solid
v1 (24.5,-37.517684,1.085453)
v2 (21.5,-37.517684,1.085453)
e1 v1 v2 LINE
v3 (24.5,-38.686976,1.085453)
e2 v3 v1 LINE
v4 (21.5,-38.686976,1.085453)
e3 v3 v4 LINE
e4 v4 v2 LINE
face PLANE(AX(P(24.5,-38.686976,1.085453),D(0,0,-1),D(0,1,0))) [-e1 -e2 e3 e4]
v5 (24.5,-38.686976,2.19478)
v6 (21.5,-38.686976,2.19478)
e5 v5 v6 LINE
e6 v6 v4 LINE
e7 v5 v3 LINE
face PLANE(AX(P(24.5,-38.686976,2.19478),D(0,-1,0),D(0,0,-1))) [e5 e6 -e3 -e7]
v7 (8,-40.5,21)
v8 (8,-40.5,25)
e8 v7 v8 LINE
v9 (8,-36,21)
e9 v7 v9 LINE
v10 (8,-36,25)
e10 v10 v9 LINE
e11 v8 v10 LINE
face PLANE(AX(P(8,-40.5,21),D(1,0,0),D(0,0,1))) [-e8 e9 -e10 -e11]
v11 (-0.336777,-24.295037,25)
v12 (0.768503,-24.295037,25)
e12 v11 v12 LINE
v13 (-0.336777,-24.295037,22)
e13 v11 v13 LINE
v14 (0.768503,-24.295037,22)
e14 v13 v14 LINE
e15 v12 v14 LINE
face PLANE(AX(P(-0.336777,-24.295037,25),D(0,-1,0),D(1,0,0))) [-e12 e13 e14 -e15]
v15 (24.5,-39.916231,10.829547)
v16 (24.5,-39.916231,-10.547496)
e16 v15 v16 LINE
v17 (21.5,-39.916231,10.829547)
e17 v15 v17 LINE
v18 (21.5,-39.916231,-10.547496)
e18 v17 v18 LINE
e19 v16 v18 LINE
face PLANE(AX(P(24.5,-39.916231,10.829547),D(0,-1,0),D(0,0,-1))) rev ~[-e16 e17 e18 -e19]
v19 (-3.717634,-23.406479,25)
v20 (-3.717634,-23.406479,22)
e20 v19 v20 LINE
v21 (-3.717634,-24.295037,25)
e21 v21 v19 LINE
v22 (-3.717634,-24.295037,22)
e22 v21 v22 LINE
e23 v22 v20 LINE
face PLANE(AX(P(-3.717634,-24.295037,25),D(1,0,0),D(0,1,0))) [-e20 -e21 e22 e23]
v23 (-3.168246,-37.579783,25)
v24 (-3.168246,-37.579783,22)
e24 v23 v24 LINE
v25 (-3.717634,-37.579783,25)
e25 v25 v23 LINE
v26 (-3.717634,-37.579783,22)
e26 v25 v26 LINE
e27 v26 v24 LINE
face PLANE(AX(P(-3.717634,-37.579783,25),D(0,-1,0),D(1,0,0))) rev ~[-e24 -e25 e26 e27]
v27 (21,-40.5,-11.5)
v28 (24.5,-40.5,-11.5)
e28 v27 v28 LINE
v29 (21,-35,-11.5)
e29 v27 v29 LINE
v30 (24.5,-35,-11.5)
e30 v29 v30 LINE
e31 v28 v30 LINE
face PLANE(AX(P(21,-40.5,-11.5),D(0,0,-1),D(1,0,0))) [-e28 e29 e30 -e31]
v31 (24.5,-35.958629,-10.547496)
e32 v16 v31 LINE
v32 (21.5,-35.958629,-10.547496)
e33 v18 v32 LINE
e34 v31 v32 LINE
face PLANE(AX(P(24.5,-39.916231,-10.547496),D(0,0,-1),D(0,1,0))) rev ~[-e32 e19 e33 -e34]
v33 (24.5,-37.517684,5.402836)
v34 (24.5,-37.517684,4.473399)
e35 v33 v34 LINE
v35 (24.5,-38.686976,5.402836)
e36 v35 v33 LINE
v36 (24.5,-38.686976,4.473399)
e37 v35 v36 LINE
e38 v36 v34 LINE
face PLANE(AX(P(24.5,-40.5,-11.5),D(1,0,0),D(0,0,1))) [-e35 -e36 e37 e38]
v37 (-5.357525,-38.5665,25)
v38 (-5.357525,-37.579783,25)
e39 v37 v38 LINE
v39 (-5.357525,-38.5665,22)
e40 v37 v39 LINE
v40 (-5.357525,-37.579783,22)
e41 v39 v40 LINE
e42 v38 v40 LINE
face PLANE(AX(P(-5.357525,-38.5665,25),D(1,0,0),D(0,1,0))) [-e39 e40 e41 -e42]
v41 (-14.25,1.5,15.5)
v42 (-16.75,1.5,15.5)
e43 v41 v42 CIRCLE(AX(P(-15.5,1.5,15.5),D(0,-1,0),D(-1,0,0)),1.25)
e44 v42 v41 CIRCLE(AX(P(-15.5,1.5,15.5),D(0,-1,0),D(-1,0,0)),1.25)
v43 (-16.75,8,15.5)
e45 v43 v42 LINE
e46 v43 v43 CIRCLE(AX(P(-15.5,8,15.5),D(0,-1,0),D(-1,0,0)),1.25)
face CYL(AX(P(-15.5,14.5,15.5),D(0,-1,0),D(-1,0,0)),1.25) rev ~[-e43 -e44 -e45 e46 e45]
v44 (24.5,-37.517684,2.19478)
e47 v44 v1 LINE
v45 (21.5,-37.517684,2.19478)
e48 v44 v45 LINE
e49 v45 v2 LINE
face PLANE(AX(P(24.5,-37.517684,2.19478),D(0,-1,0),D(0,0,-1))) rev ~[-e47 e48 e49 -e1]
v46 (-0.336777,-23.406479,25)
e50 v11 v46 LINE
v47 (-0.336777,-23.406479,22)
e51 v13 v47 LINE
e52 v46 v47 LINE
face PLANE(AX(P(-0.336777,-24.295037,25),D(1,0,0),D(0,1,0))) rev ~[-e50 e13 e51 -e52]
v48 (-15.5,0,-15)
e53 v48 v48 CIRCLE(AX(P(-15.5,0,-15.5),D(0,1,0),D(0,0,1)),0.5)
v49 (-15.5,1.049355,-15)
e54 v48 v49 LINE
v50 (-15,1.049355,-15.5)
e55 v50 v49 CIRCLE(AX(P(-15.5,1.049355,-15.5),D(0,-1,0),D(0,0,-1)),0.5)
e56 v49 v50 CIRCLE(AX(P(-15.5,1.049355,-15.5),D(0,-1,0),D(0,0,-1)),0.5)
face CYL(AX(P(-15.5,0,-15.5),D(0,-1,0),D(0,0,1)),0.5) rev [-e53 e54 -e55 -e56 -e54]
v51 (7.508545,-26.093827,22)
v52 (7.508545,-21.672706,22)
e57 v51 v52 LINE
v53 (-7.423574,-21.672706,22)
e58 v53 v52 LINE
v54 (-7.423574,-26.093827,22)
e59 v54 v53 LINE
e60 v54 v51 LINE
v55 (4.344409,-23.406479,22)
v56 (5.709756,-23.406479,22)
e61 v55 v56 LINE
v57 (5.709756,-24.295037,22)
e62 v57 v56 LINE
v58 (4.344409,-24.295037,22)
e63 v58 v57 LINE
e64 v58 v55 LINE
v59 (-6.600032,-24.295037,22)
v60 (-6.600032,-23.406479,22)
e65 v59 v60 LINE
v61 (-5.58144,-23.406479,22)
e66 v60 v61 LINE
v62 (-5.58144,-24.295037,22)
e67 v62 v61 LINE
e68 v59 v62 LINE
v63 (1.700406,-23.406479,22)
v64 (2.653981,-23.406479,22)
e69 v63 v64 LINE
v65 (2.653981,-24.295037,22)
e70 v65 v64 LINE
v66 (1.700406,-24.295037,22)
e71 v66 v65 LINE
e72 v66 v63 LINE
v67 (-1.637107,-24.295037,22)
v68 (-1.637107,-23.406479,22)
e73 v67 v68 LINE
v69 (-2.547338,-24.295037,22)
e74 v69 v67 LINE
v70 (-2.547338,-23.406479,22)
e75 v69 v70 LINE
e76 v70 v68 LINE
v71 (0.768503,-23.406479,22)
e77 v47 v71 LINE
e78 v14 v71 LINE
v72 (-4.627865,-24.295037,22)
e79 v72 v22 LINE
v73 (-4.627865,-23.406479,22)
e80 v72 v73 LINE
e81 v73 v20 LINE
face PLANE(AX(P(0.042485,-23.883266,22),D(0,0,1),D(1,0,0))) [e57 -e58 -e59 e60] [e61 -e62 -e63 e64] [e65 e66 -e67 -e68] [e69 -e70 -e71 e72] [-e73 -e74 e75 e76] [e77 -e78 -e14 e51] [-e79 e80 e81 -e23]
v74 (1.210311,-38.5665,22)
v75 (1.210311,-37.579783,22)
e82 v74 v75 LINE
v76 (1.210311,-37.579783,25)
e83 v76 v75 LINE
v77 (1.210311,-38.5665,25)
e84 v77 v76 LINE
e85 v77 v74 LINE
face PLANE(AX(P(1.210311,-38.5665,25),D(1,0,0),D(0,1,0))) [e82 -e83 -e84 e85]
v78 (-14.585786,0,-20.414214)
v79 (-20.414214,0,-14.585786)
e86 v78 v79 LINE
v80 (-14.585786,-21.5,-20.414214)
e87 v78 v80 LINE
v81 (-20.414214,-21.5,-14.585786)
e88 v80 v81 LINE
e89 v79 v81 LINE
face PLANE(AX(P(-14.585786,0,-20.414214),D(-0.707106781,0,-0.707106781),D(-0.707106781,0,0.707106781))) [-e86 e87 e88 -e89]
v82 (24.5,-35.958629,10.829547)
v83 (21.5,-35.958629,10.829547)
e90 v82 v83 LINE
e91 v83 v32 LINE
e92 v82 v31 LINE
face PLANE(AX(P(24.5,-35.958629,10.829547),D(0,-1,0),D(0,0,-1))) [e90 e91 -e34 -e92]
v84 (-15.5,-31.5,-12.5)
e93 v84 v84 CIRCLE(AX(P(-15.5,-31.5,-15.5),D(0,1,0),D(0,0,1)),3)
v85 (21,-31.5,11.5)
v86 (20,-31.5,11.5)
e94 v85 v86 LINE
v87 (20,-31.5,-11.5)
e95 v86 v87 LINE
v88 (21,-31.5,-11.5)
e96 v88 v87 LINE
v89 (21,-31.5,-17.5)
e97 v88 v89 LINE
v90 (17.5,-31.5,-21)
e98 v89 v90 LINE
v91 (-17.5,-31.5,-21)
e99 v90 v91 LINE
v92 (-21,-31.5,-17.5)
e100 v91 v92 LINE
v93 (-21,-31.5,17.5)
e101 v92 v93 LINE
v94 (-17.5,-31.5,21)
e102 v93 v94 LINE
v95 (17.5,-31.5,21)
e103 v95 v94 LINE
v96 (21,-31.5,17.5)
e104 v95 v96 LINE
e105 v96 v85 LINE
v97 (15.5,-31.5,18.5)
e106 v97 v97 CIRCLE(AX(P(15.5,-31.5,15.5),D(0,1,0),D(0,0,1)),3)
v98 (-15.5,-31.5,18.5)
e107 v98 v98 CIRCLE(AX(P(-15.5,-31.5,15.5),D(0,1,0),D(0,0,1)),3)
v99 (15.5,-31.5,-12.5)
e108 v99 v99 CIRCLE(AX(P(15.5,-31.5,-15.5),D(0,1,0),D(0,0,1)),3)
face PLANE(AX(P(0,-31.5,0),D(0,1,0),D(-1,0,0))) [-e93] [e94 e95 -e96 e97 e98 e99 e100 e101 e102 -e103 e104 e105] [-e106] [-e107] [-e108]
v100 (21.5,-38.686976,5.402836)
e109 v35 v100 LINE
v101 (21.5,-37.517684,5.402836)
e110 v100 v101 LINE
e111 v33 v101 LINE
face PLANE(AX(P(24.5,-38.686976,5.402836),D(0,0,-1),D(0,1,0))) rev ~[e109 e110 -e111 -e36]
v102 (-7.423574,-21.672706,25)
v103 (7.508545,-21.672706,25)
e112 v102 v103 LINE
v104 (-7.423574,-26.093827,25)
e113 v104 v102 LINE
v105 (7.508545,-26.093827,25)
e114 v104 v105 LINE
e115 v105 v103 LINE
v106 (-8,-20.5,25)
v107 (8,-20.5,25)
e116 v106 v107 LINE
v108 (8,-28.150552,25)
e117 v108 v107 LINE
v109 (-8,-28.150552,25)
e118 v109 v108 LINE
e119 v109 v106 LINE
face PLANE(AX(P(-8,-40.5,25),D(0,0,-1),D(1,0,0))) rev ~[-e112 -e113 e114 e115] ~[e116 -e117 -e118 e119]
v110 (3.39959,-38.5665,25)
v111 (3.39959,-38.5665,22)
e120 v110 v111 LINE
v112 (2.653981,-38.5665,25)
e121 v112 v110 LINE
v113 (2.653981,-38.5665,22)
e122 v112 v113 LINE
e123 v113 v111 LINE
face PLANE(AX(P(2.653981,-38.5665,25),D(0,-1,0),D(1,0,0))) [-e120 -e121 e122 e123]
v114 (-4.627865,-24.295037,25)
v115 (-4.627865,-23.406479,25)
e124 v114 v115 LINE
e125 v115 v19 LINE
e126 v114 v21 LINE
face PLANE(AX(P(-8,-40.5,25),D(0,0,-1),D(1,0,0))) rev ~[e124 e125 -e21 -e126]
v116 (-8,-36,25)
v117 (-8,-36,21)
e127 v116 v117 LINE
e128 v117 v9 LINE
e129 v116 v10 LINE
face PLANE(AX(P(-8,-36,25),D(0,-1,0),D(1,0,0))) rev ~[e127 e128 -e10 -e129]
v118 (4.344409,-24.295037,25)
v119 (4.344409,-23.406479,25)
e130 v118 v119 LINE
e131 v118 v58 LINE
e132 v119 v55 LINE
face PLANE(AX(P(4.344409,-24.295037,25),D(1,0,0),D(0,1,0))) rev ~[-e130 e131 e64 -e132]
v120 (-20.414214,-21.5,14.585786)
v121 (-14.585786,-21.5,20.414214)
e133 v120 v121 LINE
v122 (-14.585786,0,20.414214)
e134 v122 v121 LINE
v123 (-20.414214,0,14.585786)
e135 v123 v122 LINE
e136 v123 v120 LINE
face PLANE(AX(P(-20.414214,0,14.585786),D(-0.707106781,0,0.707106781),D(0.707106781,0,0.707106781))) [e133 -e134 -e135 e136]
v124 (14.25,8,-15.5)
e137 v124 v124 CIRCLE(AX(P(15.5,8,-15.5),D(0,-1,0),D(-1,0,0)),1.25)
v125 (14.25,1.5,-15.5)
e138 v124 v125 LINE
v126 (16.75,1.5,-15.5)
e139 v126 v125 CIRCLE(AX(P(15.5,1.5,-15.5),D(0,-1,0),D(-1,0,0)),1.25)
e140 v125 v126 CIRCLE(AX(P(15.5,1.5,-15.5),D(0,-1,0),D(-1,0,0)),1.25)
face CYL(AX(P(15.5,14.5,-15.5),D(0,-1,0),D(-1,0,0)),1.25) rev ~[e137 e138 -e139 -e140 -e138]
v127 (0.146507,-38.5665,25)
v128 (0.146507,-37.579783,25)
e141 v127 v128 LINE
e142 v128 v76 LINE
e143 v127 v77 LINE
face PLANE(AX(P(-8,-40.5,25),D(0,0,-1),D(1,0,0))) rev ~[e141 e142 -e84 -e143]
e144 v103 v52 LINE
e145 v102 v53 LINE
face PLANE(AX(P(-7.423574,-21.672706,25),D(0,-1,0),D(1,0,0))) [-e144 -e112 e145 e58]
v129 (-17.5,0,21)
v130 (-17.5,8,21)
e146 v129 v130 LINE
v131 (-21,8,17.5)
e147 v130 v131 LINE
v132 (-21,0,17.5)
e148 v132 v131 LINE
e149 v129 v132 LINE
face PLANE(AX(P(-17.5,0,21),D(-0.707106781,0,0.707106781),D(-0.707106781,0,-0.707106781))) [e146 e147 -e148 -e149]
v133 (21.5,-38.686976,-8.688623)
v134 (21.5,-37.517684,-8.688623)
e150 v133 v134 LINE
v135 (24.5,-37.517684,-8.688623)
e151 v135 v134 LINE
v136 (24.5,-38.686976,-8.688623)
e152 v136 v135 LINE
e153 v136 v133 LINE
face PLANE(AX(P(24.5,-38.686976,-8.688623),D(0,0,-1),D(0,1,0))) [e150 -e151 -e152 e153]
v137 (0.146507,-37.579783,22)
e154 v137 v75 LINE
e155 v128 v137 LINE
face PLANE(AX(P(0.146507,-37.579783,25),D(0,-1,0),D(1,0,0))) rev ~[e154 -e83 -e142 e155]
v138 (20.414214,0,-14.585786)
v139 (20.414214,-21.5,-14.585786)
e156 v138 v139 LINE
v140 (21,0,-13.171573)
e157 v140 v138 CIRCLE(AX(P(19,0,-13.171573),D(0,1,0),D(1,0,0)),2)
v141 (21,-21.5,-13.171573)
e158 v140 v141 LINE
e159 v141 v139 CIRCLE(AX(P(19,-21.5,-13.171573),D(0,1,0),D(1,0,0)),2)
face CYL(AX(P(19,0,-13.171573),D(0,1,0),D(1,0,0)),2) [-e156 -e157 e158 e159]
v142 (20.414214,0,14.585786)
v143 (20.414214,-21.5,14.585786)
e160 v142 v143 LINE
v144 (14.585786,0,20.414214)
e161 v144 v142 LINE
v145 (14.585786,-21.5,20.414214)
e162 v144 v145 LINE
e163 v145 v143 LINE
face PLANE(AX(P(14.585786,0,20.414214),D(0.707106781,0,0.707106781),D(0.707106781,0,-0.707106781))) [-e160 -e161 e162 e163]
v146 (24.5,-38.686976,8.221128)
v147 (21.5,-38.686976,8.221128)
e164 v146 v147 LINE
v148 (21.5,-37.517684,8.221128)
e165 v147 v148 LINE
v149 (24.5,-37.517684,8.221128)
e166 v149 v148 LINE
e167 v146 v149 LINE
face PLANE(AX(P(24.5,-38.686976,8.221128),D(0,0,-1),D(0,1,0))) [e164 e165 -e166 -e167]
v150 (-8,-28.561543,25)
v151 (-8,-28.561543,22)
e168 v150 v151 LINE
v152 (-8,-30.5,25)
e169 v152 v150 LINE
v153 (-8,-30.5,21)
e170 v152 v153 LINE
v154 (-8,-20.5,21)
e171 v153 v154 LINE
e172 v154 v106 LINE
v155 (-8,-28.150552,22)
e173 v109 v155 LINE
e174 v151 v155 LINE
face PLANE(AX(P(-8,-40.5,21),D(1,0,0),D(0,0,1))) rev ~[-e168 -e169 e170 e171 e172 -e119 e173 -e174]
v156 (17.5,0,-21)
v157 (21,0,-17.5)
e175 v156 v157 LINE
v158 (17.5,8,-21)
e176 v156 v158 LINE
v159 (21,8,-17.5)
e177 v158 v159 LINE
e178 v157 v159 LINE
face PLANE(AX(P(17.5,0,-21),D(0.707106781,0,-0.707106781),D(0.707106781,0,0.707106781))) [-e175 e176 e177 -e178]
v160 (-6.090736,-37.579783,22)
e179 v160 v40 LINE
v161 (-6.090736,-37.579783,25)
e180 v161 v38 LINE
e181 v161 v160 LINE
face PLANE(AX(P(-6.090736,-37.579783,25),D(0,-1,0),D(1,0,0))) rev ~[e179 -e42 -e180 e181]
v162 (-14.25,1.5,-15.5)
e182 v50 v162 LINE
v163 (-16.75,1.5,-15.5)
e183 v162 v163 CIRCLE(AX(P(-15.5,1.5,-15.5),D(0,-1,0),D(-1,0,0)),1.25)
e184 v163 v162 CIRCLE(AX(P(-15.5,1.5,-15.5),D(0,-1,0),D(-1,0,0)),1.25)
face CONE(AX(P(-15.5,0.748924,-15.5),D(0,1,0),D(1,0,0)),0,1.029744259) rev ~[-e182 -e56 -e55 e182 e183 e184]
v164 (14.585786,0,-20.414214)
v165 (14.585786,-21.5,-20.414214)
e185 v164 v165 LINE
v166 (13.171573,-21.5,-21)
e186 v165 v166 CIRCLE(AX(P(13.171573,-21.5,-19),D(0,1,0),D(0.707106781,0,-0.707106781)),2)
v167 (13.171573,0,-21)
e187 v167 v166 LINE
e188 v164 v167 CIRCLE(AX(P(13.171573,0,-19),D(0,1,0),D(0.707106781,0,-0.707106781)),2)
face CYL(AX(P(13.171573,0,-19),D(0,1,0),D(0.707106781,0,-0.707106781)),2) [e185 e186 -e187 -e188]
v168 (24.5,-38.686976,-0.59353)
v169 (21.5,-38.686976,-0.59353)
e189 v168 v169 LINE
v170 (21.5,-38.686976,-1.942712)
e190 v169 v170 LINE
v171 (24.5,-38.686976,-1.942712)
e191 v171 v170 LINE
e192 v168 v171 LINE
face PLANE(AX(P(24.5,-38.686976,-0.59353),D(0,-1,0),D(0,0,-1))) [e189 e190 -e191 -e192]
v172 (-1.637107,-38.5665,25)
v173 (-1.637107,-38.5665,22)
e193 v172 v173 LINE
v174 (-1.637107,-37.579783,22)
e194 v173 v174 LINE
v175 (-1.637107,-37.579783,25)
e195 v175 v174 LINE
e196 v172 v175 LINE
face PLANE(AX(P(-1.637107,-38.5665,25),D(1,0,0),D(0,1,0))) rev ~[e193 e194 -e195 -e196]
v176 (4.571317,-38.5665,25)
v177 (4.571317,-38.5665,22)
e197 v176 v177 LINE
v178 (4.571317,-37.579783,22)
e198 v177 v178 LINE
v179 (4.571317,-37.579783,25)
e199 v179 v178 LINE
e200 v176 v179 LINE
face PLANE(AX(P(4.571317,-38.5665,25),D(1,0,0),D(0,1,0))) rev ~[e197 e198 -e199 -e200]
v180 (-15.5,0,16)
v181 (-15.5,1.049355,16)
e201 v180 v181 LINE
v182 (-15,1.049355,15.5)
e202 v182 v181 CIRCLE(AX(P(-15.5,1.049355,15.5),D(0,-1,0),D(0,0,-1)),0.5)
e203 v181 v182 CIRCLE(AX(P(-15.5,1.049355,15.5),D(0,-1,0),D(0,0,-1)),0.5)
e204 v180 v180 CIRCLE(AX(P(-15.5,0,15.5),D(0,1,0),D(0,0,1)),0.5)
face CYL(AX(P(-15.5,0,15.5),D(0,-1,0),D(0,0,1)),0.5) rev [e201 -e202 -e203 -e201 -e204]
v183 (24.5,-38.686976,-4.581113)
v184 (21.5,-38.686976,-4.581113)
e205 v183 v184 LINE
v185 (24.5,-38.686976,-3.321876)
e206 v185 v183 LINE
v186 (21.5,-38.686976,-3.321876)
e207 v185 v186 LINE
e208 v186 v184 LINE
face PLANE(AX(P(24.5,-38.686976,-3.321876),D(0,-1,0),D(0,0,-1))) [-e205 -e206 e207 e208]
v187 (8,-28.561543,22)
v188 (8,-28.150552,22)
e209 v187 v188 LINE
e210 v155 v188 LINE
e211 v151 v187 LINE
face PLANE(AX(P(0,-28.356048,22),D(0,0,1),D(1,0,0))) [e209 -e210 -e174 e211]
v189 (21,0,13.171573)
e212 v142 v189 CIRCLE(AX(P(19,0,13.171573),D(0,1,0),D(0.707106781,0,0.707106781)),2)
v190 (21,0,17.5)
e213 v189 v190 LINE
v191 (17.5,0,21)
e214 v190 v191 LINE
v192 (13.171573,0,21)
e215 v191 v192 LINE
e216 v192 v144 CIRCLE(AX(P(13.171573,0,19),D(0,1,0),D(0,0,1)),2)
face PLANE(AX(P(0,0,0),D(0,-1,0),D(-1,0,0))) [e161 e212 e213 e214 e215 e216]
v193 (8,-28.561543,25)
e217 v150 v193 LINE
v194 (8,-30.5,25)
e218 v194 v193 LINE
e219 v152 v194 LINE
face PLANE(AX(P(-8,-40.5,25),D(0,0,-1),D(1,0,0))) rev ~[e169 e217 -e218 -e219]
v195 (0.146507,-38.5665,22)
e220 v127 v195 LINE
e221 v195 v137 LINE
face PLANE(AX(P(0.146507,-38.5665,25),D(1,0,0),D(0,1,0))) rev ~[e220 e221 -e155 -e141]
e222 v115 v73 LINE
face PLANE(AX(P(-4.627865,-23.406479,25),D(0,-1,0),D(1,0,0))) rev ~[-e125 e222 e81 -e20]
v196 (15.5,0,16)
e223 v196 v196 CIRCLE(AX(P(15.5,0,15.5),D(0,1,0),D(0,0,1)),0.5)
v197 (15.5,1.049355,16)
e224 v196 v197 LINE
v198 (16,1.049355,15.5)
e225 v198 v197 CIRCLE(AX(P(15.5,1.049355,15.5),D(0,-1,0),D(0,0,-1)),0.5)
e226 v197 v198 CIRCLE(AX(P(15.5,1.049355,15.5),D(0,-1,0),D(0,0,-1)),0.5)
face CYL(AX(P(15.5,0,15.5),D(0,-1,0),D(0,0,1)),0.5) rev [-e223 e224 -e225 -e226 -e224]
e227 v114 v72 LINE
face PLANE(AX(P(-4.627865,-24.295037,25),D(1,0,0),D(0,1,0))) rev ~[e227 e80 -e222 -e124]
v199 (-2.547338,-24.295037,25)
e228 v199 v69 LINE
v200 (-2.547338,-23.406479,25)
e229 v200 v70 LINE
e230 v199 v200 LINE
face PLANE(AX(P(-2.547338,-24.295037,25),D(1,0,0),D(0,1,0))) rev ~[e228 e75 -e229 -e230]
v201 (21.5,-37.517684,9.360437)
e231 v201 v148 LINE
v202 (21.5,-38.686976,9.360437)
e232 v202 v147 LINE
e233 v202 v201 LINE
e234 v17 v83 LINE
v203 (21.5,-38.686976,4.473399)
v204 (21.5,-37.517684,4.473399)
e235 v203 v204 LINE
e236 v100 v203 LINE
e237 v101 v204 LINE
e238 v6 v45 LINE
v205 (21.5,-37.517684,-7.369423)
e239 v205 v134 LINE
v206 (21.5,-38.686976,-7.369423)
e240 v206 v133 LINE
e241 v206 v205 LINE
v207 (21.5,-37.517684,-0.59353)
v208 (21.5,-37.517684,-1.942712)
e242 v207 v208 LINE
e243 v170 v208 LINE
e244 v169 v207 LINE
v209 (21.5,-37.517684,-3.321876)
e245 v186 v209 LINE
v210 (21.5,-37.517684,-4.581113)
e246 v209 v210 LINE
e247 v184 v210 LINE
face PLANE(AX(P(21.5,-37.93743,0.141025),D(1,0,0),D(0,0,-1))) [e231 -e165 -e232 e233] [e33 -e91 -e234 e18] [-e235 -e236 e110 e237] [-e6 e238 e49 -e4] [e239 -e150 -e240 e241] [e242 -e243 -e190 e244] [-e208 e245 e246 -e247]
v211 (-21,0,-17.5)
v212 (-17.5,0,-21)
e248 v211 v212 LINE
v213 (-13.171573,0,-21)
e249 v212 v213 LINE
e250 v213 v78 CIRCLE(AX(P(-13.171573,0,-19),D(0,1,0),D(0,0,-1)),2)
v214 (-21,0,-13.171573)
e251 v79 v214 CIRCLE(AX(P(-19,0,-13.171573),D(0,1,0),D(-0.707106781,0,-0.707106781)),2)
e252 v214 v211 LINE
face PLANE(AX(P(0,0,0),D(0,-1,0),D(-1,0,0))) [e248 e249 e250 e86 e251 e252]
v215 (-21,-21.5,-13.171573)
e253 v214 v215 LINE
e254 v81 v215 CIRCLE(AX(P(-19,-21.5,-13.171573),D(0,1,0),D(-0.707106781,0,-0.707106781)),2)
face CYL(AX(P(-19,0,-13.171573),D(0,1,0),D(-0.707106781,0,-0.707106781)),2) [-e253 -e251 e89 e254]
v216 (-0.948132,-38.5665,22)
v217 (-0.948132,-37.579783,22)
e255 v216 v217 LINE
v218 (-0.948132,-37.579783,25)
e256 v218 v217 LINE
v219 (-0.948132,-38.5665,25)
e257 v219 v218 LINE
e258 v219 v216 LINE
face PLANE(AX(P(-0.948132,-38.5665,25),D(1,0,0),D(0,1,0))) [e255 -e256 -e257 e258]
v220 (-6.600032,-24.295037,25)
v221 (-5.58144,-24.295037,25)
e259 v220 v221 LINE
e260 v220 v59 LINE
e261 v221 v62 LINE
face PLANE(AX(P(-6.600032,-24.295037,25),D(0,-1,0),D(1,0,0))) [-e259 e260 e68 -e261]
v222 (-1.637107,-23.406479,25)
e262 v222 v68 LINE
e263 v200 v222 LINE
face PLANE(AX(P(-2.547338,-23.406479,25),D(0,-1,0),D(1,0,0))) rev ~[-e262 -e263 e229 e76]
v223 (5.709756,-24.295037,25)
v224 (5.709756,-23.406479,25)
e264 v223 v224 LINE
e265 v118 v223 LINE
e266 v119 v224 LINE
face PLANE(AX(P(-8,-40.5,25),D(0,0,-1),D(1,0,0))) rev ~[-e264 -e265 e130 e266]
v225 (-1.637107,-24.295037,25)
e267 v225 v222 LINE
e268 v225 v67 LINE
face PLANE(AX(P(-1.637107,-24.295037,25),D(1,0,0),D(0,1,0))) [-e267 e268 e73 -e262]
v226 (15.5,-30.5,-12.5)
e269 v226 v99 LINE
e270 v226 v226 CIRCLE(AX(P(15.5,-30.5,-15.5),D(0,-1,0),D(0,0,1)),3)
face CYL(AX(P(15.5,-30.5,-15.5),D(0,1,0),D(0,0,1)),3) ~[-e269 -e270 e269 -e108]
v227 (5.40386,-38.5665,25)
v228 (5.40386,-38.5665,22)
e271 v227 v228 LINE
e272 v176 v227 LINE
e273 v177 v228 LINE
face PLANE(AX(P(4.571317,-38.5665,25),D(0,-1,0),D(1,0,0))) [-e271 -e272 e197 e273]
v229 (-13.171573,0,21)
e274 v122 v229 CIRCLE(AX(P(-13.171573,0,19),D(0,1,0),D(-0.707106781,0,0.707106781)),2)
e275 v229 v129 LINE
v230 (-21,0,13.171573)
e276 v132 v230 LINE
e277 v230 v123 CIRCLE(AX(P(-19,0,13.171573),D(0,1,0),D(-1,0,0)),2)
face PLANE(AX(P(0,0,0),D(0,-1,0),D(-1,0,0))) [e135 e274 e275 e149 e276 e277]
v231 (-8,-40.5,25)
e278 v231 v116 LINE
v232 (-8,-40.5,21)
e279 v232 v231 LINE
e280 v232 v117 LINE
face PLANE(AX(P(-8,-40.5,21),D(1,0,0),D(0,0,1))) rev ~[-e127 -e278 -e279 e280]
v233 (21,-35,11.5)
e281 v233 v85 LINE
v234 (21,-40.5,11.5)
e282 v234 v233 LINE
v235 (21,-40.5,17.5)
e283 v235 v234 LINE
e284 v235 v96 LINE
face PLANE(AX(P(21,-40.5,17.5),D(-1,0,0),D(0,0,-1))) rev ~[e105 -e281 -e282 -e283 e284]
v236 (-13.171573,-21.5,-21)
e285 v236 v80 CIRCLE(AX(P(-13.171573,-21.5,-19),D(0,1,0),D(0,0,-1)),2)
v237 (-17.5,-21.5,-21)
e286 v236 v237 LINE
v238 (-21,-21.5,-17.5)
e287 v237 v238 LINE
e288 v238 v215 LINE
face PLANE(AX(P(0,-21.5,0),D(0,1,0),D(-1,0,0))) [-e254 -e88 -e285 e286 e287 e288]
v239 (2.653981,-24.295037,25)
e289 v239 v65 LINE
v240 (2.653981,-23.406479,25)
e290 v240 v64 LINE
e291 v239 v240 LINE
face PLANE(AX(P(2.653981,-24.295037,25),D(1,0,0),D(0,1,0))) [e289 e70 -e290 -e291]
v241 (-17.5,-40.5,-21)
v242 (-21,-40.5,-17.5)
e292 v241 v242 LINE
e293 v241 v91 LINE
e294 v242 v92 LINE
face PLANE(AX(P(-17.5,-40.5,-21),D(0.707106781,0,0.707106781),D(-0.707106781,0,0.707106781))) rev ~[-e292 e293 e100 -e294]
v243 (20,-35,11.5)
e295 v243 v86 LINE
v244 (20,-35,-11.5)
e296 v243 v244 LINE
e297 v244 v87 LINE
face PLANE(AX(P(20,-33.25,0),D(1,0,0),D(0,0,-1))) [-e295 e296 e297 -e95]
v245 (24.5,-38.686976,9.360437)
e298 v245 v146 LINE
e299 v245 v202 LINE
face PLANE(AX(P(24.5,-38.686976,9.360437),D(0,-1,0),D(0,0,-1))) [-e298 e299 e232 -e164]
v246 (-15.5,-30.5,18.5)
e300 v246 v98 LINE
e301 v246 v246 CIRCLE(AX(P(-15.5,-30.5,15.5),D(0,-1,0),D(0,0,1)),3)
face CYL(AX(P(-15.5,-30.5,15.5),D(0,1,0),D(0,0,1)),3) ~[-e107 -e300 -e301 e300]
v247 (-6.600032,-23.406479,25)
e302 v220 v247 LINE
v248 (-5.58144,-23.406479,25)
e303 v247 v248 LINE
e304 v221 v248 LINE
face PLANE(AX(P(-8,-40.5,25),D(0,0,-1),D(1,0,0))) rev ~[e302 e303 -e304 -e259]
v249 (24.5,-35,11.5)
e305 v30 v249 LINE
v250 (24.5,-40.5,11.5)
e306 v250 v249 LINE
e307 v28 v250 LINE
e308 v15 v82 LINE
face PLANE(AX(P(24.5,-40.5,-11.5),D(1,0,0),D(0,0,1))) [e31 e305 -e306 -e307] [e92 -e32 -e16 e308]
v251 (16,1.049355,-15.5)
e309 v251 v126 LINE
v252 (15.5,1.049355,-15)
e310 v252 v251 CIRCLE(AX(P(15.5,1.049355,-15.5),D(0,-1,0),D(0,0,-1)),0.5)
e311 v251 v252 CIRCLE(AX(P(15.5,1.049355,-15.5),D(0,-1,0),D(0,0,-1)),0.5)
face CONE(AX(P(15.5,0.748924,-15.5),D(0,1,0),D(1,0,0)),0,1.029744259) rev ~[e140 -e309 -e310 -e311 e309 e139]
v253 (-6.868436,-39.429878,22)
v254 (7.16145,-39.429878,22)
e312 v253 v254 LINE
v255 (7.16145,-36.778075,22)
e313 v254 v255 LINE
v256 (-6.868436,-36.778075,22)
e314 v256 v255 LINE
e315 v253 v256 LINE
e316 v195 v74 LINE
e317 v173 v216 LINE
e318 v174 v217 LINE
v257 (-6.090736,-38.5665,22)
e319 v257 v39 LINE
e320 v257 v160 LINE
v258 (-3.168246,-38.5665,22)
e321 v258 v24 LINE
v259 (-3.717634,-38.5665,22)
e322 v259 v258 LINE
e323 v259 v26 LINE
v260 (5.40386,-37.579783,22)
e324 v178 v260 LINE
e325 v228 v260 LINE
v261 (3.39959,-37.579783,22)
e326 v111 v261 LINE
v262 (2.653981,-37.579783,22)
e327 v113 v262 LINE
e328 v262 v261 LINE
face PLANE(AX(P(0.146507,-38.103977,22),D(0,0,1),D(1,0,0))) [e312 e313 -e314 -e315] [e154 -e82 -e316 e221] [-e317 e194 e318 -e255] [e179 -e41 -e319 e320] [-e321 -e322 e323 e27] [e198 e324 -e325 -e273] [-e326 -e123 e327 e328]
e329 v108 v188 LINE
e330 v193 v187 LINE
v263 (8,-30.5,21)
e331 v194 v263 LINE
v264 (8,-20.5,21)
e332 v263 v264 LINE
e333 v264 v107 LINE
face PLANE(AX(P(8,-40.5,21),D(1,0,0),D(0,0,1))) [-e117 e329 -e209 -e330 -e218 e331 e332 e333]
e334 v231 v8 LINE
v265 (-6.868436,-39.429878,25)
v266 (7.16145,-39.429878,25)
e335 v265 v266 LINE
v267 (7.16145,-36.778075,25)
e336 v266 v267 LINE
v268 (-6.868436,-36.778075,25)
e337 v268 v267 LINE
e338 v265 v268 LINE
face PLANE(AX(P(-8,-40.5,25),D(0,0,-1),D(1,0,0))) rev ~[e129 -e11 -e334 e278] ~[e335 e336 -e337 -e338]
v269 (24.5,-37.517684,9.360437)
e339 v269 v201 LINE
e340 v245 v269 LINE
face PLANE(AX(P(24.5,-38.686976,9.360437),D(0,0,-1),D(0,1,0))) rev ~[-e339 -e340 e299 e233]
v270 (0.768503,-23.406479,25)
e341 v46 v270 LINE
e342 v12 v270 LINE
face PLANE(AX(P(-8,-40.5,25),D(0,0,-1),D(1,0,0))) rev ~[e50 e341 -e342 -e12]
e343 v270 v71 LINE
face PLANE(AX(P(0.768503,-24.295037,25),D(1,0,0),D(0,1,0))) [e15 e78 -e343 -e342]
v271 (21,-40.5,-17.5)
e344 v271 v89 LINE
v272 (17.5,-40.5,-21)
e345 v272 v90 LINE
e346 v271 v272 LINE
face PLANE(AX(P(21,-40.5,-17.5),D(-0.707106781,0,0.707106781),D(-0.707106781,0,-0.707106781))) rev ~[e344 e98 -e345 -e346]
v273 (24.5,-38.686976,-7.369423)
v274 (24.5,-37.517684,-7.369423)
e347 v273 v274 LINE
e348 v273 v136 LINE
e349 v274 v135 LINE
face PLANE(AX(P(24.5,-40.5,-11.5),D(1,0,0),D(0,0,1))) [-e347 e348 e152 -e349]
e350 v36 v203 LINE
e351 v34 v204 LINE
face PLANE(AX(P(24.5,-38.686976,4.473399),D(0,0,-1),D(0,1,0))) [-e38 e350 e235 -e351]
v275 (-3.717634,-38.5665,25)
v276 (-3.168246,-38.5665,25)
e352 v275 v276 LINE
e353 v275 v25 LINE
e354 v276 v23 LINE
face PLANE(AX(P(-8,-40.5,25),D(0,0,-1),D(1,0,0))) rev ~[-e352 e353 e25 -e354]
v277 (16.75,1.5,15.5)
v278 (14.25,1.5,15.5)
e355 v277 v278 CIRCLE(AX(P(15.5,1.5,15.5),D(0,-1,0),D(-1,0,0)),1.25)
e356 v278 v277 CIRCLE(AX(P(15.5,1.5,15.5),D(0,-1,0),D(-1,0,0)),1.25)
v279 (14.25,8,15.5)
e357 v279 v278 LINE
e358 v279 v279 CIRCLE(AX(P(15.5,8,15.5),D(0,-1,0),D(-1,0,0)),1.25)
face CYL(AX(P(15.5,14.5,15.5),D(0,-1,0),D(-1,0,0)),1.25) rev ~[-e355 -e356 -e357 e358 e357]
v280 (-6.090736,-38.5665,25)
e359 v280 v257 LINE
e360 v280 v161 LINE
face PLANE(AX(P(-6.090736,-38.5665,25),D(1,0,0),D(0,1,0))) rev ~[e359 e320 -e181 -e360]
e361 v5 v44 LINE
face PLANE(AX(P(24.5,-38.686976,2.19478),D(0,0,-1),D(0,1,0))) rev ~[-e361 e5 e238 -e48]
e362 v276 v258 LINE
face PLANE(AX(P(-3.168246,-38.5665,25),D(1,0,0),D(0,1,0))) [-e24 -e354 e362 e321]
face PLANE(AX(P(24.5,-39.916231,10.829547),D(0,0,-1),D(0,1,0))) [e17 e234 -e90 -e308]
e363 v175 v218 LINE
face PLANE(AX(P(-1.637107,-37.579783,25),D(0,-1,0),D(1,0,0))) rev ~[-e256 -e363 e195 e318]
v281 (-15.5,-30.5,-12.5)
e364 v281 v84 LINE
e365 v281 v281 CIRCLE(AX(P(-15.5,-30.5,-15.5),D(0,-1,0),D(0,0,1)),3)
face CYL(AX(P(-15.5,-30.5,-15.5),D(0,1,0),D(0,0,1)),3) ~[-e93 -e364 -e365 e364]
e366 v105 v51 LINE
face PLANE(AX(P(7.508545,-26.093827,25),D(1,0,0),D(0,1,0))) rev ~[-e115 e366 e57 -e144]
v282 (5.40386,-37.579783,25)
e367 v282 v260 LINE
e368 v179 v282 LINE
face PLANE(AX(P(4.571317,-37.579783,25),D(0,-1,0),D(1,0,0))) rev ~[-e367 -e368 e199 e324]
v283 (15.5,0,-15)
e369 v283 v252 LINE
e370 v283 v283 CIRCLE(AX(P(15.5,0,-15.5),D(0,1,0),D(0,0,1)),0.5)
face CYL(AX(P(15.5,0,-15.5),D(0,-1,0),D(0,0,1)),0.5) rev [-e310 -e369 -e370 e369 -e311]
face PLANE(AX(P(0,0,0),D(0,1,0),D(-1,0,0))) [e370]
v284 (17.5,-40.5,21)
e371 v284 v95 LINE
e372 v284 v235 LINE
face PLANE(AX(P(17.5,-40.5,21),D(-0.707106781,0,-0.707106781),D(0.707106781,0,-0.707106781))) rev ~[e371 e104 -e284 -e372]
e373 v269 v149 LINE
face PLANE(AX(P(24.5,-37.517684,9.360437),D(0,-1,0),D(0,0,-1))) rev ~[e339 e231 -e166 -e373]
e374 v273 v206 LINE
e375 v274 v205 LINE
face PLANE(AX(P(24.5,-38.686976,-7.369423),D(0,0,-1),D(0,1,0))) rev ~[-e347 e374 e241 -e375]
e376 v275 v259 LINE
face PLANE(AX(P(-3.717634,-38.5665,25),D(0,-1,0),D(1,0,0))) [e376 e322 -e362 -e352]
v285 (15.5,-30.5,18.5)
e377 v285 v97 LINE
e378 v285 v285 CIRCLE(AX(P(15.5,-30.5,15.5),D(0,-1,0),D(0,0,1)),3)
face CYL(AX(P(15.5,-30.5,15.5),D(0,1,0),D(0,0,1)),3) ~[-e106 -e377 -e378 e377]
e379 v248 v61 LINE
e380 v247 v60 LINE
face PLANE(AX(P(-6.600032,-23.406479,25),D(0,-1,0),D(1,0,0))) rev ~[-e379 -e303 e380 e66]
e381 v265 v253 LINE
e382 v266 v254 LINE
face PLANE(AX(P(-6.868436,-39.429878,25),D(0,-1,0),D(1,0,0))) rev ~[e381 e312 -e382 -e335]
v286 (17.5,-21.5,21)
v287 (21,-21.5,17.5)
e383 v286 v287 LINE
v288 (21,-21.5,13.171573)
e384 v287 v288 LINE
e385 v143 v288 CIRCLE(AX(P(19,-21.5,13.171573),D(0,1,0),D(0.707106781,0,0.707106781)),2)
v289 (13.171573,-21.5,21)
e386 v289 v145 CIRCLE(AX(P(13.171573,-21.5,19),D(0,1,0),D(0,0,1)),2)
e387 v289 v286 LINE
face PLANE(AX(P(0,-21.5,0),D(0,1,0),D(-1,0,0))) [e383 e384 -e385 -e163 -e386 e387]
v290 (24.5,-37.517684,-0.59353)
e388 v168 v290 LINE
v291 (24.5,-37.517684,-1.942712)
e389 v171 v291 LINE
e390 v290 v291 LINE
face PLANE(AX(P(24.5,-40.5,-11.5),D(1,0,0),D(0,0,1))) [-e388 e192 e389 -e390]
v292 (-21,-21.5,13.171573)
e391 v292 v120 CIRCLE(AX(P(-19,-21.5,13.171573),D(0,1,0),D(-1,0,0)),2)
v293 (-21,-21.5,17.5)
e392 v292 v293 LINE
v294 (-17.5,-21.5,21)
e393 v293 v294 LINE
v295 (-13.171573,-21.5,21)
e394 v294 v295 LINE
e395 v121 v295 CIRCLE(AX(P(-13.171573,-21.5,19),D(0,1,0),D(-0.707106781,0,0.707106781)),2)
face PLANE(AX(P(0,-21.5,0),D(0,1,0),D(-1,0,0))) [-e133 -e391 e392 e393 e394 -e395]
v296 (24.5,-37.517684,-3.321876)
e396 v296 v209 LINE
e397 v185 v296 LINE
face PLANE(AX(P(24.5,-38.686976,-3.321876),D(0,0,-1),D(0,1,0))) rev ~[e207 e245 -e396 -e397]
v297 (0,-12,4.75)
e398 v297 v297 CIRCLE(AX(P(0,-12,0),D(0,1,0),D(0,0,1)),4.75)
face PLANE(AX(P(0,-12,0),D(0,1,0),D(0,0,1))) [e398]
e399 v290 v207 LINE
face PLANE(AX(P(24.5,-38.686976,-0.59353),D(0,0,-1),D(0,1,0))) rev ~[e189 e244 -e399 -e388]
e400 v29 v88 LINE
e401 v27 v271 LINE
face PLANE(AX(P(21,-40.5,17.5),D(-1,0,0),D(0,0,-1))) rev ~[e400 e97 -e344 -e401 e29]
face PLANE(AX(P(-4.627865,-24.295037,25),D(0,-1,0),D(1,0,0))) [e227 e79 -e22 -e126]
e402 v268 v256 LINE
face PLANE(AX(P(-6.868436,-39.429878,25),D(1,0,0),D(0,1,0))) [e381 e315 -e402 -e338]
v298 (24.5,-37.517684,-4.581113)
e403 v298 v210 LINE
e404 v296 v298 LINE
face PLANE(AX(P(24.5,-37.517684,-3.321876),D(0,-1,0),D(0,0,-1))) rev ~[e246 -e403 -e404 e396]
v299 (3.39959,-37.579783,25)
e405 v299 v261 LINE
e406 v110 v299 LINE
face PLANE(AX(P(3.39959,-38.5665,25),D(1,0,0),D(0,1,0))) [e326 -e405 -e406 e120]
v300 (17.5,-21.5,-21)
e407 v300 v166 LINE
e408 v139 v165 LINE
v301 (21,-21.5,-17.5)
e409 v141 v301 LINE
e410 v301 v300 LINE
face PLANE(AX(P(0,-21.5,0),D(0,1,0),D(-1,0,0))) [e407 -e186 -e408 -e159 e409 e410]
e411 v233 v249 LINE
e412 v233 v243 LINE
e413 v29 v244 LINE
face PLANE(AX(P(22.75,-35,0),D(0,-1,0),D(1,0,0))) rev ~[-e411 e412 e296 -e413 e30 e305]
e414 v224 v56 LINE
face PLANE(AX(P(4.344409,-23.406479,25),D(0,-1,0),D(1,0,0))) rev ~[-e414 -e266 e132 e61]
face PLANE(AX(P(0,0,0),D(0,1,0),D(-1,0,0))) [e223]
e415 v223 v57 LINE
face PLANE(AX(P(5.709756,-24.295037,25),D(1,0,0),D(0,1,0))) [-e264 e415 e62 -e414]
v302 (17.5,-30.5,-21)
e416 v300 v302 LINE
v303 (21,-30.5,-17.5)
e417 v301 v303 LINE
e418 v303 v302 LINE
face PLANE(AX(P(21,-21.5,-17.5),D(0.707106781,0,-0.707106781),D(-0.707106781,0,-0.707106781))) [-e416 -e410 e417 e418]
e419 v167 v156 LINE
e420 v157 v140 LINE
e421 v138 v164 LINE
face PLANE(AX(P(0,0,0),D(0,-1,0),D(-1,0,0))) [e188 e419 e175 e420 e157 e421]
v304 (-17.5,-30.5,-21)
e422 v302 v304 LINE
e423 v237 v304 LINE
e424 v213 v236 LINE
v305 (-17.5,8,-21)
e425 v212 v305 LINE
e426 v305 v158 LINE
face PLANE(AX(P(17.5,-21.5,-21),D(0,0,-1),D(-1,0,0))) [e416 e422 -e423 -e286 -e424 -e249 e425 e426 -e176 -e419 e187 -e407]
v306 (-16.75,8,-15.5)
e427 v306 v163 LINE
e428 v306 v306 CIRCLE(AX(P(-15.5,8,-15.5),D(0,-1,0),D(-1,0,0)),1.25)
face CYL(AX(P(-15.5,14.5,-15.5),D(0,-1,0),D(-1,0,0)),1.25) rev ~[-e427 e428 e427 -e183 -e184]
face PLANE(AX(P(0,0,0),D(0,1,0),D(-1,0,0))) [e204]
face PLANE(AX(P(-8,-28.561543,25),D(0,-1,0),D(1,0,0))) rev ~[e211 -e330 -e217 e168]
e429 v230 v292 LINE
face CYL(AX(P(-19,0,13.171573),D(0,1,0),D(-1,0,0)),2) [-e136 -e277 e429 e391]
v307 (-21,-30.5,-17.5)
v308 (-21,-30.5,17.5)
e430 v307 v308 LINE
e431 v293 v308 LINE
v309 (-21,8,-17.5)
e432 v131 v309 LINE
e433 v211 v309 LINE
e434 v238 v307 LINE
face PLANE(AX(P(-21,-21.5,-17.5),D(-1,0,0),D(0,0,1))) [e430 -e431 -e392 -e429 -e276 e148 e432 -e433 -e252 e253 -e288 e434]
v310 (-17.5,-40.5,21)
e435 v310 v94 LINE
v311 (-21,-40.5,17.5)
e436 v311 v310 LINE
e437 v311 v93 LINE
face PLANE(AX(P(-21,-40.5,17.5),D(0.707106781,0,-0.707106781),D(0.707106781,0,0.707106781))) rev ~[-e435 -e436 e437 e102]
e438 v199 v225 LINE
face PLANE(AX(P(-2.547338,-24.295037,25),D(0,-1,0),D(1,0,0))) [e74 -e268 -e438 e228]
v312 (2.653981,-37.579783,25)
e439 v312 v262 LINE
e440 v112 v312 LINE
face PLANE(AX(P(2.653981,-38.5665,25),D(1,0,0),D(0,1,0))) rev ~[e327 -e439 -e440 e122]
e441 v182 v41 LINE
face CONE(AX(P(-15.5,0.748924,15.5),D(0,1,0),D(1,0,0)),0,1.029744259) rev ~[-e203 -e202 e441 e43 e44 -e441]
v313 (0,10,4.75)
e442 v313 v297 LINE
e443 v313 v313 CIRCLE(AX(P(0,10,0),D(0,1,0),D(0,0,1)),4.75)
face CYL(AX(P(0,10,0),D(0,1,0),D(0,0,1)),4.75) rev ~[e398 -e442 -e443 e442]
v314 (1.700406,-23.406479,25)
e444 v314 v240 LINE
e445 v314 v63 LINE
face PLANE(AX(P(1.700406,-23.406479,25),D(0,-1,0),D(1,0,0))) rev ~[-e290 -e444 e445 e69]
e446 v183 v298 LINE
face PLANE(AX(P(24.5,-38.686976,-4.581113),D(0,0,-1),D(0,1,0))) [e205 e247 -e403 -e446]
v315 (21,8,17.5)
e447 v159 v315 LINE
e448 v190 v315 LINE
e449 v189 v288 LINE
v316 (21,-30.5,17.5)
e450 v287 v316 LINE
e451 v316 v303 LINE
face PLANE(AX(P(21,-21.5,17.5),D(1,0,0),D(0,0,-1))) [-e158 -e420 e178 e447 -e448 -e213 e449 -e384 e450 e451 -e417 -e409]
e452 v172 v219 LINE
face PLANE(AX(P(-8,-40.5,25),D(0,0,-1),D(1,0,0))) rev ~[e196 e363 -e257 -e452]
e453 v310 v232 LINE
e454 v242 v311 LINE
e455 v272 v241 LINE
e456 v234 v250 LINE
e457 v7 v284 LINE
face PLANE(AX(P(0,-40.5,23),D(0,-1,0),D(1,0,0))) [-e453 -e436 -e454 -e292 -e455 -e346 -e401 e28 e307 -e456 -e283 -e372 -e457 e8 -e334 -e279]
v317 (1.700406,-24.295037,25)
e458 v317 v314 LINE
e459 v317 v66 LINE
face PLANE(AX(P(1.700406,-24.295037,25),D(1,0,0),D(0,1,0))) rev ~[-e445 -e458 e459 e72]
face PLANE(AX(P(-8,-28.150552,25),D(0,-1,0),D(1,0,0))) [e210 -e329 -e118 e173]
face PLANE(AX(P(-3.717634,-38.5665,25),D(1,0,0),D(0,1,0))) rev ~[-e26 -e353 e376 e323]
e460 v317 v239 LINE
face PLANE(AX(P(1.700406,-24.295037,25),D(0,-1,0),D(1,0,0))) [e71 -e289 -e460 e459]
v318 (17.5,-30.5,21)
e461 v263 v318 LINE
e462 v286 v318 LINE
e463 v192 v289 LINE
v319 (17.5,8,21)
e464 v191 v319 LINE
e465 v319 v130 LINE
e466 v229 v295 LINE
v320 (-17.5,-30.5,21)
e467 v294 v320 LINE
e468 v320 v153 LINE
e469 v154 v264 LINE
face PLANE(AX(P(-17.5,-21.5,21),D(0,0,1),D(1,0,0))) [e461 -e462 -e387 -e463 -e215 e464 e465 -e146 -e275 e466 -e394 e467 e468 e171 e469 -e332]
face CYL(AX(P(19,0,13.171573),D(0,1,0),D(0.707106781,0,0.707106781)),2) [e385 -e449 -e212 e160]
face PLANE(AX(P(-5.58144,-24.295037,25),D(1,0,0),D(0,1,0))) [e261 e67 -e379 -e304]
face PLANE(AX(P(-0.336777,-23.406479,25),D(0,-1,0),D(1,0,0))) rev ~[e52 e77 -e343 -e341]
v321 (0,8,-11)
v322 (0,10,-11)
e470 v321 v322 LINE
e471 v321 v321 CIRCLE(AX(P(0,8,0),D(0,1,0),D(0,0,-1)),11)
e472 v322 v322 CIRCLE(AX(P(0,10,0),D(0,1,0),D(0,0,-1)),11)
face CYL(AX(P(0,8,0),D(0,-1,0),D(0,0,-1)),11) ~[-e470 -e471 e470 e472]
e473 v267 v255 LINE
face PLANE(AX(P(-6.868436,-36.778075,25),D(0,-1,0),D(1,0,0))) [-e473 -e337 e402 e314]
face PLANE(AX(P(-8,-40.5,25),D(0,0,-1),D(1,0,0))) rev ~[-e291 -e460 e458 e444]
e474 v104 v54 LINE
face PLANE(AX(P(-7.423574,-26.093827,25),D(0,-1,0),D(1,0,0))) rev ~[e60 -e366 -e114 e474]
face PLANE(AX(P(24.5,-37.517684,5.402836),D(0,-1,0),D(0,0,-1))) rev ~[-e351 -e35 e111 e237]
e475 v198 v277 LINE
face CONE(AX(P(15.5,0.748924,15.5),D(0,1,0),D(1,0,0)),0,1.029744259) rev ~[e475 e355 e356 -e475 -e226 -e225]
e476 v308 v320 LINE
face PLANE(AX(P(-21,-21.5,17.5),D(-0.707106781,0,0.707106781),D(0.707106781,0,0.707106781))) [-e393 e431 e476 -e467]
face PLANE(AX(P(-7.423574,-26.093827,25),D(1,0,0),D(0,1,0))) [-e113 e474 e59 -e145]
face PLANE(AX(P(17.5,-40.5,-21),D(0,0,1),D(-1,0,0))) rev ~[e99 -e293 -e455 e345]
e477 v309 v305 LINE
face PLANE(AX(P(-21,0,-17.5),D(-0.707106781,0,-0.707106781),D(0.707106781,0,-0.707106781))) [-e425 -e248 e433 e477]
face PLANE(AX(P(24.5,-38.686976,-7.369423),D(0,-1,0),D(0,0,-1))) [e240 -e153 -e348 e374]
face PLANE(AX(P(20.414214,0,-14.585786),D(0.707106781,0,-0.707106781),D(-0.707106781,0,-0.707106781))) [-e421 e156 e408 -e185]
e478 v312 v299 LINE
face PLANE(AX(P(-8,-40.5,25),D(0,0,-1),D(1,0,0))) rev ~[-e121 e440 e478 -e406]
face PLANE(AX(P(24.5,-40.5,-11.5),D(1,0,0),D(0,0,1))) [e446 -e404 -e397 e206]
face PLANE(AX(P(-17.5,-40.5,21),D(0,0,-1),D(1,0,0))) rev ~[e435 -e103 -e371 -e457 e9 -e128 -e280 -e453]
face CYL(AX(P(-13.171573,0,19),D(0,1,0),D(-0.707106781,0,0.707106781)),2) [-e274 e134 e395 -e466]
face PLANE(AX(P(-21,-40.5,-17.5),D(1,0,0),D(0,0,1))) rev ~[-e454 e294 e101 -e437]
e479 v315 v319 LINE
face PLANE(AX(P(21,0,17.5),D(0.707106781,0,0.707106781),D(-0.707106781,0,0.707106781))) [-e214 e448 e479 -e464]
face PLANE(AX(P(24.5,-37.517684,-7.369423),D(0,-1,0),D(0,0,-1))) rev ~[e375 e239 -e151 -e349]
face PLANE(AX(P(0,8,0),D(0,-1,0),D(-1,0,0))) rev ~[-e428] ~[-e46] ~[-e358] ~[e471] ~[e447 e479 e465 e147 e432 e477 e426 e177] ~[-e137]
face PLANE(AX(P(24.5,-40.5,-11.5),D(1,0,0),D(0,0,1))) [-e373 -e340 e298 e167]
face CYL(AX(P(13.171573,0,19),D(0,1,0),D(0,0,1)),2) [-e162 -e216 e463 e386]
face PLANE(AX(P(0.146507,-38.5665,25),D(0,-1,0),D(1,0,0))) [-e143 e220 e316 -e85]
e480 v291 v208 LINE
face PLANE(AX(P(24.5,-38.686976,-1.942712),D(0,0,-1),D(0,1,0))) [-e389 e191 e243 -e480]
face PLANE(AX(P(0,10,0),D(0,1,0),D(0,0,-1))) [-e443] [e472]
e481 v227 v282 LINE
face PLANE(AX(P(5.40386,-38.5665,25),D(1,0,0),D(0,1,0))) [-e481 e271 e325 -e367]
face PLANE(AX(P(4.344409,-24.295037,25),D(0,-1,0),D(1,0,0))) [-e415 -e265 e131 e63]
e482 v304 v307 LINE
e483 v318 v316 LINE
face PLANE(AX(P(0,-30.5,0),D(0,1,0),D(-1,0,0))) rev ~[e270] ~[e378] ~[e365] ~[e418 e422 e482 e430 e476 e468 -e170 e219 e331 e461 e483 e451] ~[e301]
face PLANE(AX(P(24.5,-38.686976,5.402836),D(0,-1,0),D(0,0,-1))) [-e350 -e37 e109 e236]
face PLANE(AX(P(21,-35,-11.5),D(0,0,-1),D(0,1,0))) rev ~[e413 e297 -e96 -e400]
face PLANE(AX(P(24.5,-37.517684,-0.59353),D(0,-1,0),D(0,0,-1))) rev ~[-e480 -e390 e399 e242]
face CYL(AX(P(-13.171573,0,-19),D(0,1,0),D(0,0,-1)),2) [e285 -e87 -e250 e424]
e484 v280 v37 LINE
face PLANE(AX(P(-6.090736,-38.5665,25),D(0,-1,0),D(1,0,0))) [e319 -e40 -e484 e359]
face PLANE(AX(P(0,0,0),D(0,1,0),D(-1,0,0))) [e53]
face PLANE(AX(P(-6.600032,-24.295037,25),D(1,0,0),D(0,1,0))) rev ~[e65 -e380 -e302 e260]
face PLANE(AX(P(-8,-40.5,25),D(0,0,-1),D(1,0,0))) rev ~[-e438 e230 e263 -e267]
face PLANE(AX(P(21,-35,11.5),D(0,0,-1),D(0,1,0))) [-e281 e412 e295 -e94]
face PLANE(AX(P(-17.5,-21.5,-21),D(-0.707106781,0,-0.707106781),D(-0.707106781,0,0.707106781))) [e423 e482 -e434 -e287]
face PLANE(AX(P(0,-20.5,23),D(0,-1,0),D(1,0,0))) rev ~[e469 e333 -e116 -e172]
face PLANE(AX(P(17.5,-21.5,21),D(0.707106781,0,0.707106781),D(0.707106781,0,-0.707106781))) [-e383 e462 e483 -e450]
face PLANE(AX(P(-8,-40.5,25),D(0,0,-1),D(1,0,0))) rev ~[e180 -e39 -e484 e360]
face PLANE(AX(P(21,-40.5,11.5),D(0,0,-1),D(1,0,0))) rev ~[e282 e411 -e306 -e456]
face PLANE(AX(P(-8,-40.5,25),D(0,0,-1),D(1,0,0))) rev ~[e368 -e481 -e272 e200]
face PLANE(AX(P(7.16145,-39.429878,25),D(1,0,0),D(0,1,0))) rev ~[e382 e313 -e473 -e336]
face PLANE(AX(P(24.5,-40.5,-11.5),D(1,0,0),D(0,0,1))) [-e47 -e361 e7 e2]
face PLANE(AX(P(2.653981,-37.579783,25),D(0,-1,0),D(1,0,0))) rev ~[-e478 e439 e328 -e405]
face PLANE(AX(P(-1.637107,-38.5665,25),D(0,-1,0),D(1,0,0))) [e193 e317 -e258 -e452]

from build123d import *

# Parameters (mm, degrees)
SKETCH_1_R             = 0.5
EXTRUDE_1_DEPTH        = 8
EXTRUDE_2_DEPTH        = 21.5
EXTRUDE_3_DEPTH        = 9
SKETCH_4_R             = 3
EXTRUDE_4_DEPTH        = 10
EXTRUDE_5_DEPTH        = 9
HOLE_WIZARD_M3_1_D     = 2.5
HOLE_WIZARD_M3_1_DEPTH = 6.5
HOLE_WIZARD_M3_1_TIP   = 0.751075774
SKETCH_10_R            = 11
EXTRUDE_6_DEPTH        = 2
SKETCH_11_R            = 4.75
CUT_EXTRUDE_1_DEPTH    = 22
SKETCH_12_W            = 16
SKETCH_12_H            = 4
EXTRUDE_7_DEPTH        = 20
SKETCH_13_W            = 16
SKETCH_13_H            = 5.5
CUT_EXTRUDE_2_DEPTH    = 4
SKETCH_14_W            = 16
SKETCH_14_H            = 0.410991047
CUT_EXTRUDE_3_DEPTH    = 3
SKETCH_15_W            = 14.932119024
SKETCH_15_H            = 4.421120872
SKETCH_15_W_2          = 1.018591574
SKETCH_15_H_2          = 0.888558607
SKETCH_15_W_3          = 0.910230768
SKETCH_15_W_4          = 1.105280218
SKETCH_15_W_5          = 0.95357509
SKETCH_15_W_6          = 1.365346151
SKETCH_15_W_7          = 14.029885449
SKETCH_15_H_3          = 2.651802524
SKETCH_15_W_8          = 0.733211095
SKETCH_15_H_4          = 0.986717219
SKETCH_15_W_9          = 0.549388278
SKETCH_15_W_10         = 0.68897455
SKETCH_15_W_11         = 1.063804501
SKETCH_15_W_12         = 0.745609389
SKETCH_15_W_13         = 0.832542653
CUT_EXTRUDE_4_DEPTH    = 3
SKETCH_16_W            = 3.5
SKETCH_16_H            = 23
EXTRUDE_8_DEPTH        = 5.5
SKETCH_17_W            = 23
SKETCH_17_H            = 3.5
CUT_EXTRUDE_5_DEPTH    = 1
SKETCH_18_W            = 21.377042826
SKETCH_18_H            = 3.957601196
SKETCH_18_W_2          = 1.139309436
SKETCH_18_H_2          = 1.169291262
SKETCH_18_W_3          = 0.929436644
SKETCH_18_W_4          = 1.109327608
SKETCH_18_W_5          = 1.349182226
SKETCH_18_W_6          = 1.259236744
SKETCH_18_W_7          = 1.319200399
CUT_EXTRUDE_6_DEPTH    = 3


with BuildPart() as part:
    # 草图1 → 凸台-拉伸1 (new body)
    with BuildSketch(Plane(origin=(0, 0, 0), x_dir=(1, 0, 0), z_dir=(0, 1, 0))):
        Polygon((-21, 17.5), (-17.5, 21), (17.5, 21), (21, 17.5), (21, -17.5), (17.5, -21), (-17.5, -21), (-21, -17.5), align=None)
        with Locations(Location((-15.5, 15.5, 0), (0, 0, 270))):
            Circle(SKETCH_1_R, mode=Mode.SUBTRACT)
        with Locations(Location((15.5, 15.5, 0), (0, 0, 270))):
            Circle(SKETCH_1_R, mode=Mode.SUBTRACT)
        with Locations(Location((-15.5, -15.5, 0), (0, 0, 270))):
            Circle(SKETCH_1_R, mode=Mode.SUBTRACT)
        with Locations(Location((15.5, -15.5, 0), (0, 0, 270))):
            Circle(SKETCH_1_R, mode=Mode.SUBTRACT)
    extrude(amount=EXTRUDE_1_DEPTH)

    # 草图2 → 凸台-拉伸2 (add)
    with BuildSketch(Plane.XZ):
        with BuildLine():
            Line((-20.414213562, 14.585786438), (-14.585786438, 20.414213562))
            ThreePointArc((-14.585786438, 20.414213562), (-13.93693974, 20.847759065), (-13.171572875, 21))
            Line((-13.171572875, 21), (13.171572875, 21))
            ThreePointArc((13.171572875, 21), (13.93693974, 20.847759065), (14.585786438, 20.414213562))
            Line((14.585786438, 20.414213562), (20.414213562, 14.585786438))
            ThreePointArc((20.414213562, 14.585786438), (20.847759065, 13.93693974), (21, 13.171572875))
            Line((21, 13.171572875), (21, -13.171572875))
            ThreePointArc((21, -13.171572875), (20.847759065, -13.93693974), (20.414213562, -14.585786438))
            Line((20.414213562, -14.585786438), (14.585786438, -20.414213562))
            ThreePointArc((14.585786438, -20.414213562), (13.93693974, -20.847759065), (13.171572875, -21))
            Line((13.171572875, -21), (-13.171572875, -21))
            ThreePointArc((-13.171572875, -21), (-13.93693974, -20.847759065), (-14.585786438, -20.414213562))
            Line((-14.585786438, -20.414213562), (-20.414213562, -14.585786438))
            ThreePointArc((-20.414213562, -14.585786438), (-20.847759065, -13.93693974), (-21, -13.171572875))
            Line((-21, -13.171572875), (-21, 13.171572875))
            ThreePointArc((-21, 13.171572875), (-20.847759065, 13.93693974), (-20.414213562, 14.585786438))
        make_face()
    extrude(amount=EXTRUDE_2_DEPTH)

    # 草图3 → 凸台-拉伸3 (add)
    with BuildSketch(Plane.XZ.offset(21.5)):
        Polygon((-21, 17.5), (-17.5, 21), (17.5, 21), (21, 17.5), (21, -17.5), (17.5, -21), (-17.5, -21), (-21, -17.5), align=None)
    extrude(amount=EXTRUDE_3_DEPTH)

    # 草图4 → 凸台-拉伸4 (add)
    with BuildSketch(Plane.XZ.offset(30.5)):
        with Locations(Location((-15.5, 15.5, 0), (0, 0, 90))):
            Circle(SKETCH_4_R)
        with Locations(Location((15.5, 15.5, 0), (0, 0, 90))):
            Circle(SKETCH_4_R)
        with Locations(Location((-15.5, -15.5, 0), (0, 0, 90))):
            Circle(SKETCH_4_R)
        with Locations(Location((15.5, -15.5, 0), (0, 0, 90))):
            Circle(SKETCH_4_R)
    extrude(amount=EXTRUDE_4_DEPTH)

    # 草图5 → 凸台-拉伸5 (add)
    with BuildSketch(Plane.XZ.offset(40.5)):
        Polygon((-21, 17.5), (-17.5, 21), (17.5, 21), (21, 17.5), (21, -17.5), (17.5, -21), (-17.5, -21), (-21, -17.5), align=None)
    extrude(amount=-EXTRUDE_5_DEPTH)

    # M3 螺纹孔的螺纹孔钻头1
    with Locations(Plane(origin=(0, 8, 0), x_dir=(1, 0, 0), z_dir=(0, 1, 0))):
        with Locations((-15.5, 15.5), (15.5, 15.5), (-15.5, -15.5), (15.5, -15.5)):
            Hole(HOLE_WIZARD_M3_1_D / 2, depth=HOLE_WIZARD_M3_1_DEPTH)
            with Locations((0, 0, -(HOLE_WIZARD_M3_1_DEPTH + HOLE_WIZARD_M3_1_TIP / 2))):  # 118° drill point
                Cone(0, HOLE_WIZARD_M3_1_D / 2, HOLE_WIZARD_M3_1_TIP, mode=Mode.SUBTRACT)

    # 草图10 → 凸台-拉伸6 (add)
    with BuildSketch(Plane(origin=(0, 8, 0), x_dir=(1, 0, 0), z_dir=(0, 1, 0))):
        with Locations(Location((0, 0, 0), (0, 0, 90))):
            Circle(SKETCH_10_R)
    extrude(amount=EXTRUDE_6_DEPTH)

    # 草图11 → 切除-拉伸1 (cut)
    with BuildSketch(Plane(origin=(0, 10, 0), x_dir=(1, 0, 0), z_dir=(0, 1, 0))):
        with Locations(Location((0, 0, 0), (0, 0, 270))):
            Circle(SKETCH_11_R)
    extrude(amount=-CUT_EXTRUDE_1_DEPTH, mode=Mode.SUBTRACT)

    # 草图12 → 凸台-拉伸7 (add)
    with BuildSketch(Plane.XZ.offset(40.5)):
        with Locations((0, 23)):
            Rectangle(SKETCH_12_W, SKETCH_12_H)
    extrude(amount=-EXTRUDE_7_DEPTH)

    # 草图13 → 切除-拉伸2 (cut)
    with BuildSketch(Plane.XY.offset(25)):
        with Locations((0, -33.25)):
            Rectangle(SKETCH_13_W, SKETCH_13_H)
    extrude(amount=-CUT_EXTRUDE_2_DEPTH, mode=Mode.SUBTRACT)

    # 草图14 → 切除-拉伸3 (cut)
    with BuildSketch(Plane.XY.offset(25)):
        with Locations((0, -28.356047823)):
            Rectangle(SKETCH_14_W, SKETCH_14_H)
    extrude(amount=-CUT_EXTRUDE_3_DEPTH, mode=Mode.SUBTRACT)

    # 草图15 → 切除-拉伸4 (cut)
    # profile 1 of 2: a face of its own
    with BuildSketch(Plane.XY.offset(25)):
        with Locations((0.04248549, -23.883266216)):
            Rectangle(SKETCH_15_W, SKETCH_15_H)
        with Locations((-6.090736112, -23.850757974)):
            Rectangle(SKETCH_15_W_2, SKETCH_15_H_2, mode=Mode.SUBTRACT)
        with Locations((-4.172749851, -23.850757974)):
            Rectangle(SKETCH_15_W_3, SKETCH_15_H_2, mode=Mode.SUBTRACT)
        with Locations((-2.092222382, -23.850757974)):
            Rectangle(SKETCH_15_W_3, SKETCH_15_H_2, mode=Mode.SUBTRACT)
        with Locations((0.215862779, -23.850757974)):
            Rectangle(SKETCH_15_W_4, SKETCH_15_H_2, mode=Mode.SUBTRACT)
        with Locations((2.177193362, -23.850757974)):
            Rectangle(SKETCH_15_W_5, SKETCH_15_H_2, mode=Mode.SUBTRACT)
        with Locations((5.027082552, -23.850757974)):
            Rectangle(SKETCH_15_W_6, SKETCH_15_H_2, mode=Mode.SUBTRACT)
    # profile 2 of 2: a face of its own
    with BuildSketch(Plane.XY.offset(25)):
        with Locations((0.146506967, -38.103976676)):
            Rectangle(SKETCH_15_W_7, SKETCH_15_H_3)
        with Locations((-5.724130565, -38.073141763)):
            Rectangle(SKETCH_15_W_8, SKETCH_15_H_4, mode=Mode.SUBTRACT)
        with Locations((-3.442940328, -38.073141763)):
            Rectangle(SKETCH_15_W_9, SKETCH_15_H_4, mode=Mode.SUBTRACT)
        with Locations((-1.292619723, -38.073141763)):
            Rectangle(SKETCH_15_W_10, SKETCH_15_H_4, mode=Mode.SUBTRACT)
        with Locations((0.678409218, -38.073141763)):
            Rectangle(SKETCH_15_W_11, SKETCH_15_H_4, mode=Mode.SUBTRACT)
        with Locations((3.026785602, -38.073141763)):
            Rectangle(SKETCH_15_W_12, SKETCH_15_H_4, mode=Mode.SUBTRACT)
        with Locations((4.98758832, -38.073141763)):
            Rectangle(SKETCH_15_W_13, SKETCH_15_H_4, mode=Mode.SUBTRACT)
    extrude(amount=-CUT_EXTRUDE_4_DEPTH, mode=Mode.SUBTRACT)

    # 草图16 → 凸台-拉伸8 (add)
    with BuildSketch(Plane.XZ.offset(40.5)):
        with Locations((22.75, 0)):
            Rectangle(SKETCH_16_W, SKETCH_16_H)
    extrude(amount=-EXTRUDE_8_DEPTH)

    # 草图17 → 切除-拉伸5 (cut)
    with BuildSketch(Plane(origin=(21, 0, 0), x_dir=(0, 0, -1), z_dir=(1, 0, 0))):
        with Locations((0, -33.25)):
            Rectangle(SKETCH_17_W, SKETCH_17_H)
    extrude(amount=-CUT_EXTRUDE_5_DEPTH, mode=Mode.SUBTRACT)

    # 草图18 → 切除-拉伸6 (cut)
    with BuildSketch(Plane(origin=(24.5, 0, 0), x_dir=(0, 0, -1), z_dir=(1, 0, 0))):
        with Locations((-0.141025196, -37.937429966)):
            Rectangle(SKETCH_18_W, SKETCH_18_H)
        with Locations((-8.790782356, -38.102330016)):
            Rectangle(SKETCH_18_W_2, SKETCH_18_H_2, mode=Mode.SUBTRACT)
        with Locations((-4.938117555, -38.102330016)):
            Rectangle(SKETCH_18_W_3, SKETCH_18_H_2, mode=Mode.SUBTRACT)
        with Locations((-1.640116558, -38.102330016)):
            Rectangle(SKETCH_18_W_4, SKETCH_18_H_2, mode=Mode.SUBTRACT)
        with Locations((1.268120685, -38.102330016)):
            Rectangle(SKETCH_18_W_5, SKETCH_18_H_2, mode=Mode.SUBTRACT)
        with Locations((3.951494223, -38.102330016)):
            Rectangle(SKETCH_18_W_6, SKETCH_18_H_2, mode=Mode.SUBTRACT)
        with Locations((8.029022729, -38.102330016)):
            Rectangle(SKETCH_18_W_7, SKETCH_18_H_2, mode=Mode.SUBTRACT)
    extrude(amount=-CUT_EXTRUDE_6_DEPTH, mode=Mode.SUBTRACT)


solid = part.part
